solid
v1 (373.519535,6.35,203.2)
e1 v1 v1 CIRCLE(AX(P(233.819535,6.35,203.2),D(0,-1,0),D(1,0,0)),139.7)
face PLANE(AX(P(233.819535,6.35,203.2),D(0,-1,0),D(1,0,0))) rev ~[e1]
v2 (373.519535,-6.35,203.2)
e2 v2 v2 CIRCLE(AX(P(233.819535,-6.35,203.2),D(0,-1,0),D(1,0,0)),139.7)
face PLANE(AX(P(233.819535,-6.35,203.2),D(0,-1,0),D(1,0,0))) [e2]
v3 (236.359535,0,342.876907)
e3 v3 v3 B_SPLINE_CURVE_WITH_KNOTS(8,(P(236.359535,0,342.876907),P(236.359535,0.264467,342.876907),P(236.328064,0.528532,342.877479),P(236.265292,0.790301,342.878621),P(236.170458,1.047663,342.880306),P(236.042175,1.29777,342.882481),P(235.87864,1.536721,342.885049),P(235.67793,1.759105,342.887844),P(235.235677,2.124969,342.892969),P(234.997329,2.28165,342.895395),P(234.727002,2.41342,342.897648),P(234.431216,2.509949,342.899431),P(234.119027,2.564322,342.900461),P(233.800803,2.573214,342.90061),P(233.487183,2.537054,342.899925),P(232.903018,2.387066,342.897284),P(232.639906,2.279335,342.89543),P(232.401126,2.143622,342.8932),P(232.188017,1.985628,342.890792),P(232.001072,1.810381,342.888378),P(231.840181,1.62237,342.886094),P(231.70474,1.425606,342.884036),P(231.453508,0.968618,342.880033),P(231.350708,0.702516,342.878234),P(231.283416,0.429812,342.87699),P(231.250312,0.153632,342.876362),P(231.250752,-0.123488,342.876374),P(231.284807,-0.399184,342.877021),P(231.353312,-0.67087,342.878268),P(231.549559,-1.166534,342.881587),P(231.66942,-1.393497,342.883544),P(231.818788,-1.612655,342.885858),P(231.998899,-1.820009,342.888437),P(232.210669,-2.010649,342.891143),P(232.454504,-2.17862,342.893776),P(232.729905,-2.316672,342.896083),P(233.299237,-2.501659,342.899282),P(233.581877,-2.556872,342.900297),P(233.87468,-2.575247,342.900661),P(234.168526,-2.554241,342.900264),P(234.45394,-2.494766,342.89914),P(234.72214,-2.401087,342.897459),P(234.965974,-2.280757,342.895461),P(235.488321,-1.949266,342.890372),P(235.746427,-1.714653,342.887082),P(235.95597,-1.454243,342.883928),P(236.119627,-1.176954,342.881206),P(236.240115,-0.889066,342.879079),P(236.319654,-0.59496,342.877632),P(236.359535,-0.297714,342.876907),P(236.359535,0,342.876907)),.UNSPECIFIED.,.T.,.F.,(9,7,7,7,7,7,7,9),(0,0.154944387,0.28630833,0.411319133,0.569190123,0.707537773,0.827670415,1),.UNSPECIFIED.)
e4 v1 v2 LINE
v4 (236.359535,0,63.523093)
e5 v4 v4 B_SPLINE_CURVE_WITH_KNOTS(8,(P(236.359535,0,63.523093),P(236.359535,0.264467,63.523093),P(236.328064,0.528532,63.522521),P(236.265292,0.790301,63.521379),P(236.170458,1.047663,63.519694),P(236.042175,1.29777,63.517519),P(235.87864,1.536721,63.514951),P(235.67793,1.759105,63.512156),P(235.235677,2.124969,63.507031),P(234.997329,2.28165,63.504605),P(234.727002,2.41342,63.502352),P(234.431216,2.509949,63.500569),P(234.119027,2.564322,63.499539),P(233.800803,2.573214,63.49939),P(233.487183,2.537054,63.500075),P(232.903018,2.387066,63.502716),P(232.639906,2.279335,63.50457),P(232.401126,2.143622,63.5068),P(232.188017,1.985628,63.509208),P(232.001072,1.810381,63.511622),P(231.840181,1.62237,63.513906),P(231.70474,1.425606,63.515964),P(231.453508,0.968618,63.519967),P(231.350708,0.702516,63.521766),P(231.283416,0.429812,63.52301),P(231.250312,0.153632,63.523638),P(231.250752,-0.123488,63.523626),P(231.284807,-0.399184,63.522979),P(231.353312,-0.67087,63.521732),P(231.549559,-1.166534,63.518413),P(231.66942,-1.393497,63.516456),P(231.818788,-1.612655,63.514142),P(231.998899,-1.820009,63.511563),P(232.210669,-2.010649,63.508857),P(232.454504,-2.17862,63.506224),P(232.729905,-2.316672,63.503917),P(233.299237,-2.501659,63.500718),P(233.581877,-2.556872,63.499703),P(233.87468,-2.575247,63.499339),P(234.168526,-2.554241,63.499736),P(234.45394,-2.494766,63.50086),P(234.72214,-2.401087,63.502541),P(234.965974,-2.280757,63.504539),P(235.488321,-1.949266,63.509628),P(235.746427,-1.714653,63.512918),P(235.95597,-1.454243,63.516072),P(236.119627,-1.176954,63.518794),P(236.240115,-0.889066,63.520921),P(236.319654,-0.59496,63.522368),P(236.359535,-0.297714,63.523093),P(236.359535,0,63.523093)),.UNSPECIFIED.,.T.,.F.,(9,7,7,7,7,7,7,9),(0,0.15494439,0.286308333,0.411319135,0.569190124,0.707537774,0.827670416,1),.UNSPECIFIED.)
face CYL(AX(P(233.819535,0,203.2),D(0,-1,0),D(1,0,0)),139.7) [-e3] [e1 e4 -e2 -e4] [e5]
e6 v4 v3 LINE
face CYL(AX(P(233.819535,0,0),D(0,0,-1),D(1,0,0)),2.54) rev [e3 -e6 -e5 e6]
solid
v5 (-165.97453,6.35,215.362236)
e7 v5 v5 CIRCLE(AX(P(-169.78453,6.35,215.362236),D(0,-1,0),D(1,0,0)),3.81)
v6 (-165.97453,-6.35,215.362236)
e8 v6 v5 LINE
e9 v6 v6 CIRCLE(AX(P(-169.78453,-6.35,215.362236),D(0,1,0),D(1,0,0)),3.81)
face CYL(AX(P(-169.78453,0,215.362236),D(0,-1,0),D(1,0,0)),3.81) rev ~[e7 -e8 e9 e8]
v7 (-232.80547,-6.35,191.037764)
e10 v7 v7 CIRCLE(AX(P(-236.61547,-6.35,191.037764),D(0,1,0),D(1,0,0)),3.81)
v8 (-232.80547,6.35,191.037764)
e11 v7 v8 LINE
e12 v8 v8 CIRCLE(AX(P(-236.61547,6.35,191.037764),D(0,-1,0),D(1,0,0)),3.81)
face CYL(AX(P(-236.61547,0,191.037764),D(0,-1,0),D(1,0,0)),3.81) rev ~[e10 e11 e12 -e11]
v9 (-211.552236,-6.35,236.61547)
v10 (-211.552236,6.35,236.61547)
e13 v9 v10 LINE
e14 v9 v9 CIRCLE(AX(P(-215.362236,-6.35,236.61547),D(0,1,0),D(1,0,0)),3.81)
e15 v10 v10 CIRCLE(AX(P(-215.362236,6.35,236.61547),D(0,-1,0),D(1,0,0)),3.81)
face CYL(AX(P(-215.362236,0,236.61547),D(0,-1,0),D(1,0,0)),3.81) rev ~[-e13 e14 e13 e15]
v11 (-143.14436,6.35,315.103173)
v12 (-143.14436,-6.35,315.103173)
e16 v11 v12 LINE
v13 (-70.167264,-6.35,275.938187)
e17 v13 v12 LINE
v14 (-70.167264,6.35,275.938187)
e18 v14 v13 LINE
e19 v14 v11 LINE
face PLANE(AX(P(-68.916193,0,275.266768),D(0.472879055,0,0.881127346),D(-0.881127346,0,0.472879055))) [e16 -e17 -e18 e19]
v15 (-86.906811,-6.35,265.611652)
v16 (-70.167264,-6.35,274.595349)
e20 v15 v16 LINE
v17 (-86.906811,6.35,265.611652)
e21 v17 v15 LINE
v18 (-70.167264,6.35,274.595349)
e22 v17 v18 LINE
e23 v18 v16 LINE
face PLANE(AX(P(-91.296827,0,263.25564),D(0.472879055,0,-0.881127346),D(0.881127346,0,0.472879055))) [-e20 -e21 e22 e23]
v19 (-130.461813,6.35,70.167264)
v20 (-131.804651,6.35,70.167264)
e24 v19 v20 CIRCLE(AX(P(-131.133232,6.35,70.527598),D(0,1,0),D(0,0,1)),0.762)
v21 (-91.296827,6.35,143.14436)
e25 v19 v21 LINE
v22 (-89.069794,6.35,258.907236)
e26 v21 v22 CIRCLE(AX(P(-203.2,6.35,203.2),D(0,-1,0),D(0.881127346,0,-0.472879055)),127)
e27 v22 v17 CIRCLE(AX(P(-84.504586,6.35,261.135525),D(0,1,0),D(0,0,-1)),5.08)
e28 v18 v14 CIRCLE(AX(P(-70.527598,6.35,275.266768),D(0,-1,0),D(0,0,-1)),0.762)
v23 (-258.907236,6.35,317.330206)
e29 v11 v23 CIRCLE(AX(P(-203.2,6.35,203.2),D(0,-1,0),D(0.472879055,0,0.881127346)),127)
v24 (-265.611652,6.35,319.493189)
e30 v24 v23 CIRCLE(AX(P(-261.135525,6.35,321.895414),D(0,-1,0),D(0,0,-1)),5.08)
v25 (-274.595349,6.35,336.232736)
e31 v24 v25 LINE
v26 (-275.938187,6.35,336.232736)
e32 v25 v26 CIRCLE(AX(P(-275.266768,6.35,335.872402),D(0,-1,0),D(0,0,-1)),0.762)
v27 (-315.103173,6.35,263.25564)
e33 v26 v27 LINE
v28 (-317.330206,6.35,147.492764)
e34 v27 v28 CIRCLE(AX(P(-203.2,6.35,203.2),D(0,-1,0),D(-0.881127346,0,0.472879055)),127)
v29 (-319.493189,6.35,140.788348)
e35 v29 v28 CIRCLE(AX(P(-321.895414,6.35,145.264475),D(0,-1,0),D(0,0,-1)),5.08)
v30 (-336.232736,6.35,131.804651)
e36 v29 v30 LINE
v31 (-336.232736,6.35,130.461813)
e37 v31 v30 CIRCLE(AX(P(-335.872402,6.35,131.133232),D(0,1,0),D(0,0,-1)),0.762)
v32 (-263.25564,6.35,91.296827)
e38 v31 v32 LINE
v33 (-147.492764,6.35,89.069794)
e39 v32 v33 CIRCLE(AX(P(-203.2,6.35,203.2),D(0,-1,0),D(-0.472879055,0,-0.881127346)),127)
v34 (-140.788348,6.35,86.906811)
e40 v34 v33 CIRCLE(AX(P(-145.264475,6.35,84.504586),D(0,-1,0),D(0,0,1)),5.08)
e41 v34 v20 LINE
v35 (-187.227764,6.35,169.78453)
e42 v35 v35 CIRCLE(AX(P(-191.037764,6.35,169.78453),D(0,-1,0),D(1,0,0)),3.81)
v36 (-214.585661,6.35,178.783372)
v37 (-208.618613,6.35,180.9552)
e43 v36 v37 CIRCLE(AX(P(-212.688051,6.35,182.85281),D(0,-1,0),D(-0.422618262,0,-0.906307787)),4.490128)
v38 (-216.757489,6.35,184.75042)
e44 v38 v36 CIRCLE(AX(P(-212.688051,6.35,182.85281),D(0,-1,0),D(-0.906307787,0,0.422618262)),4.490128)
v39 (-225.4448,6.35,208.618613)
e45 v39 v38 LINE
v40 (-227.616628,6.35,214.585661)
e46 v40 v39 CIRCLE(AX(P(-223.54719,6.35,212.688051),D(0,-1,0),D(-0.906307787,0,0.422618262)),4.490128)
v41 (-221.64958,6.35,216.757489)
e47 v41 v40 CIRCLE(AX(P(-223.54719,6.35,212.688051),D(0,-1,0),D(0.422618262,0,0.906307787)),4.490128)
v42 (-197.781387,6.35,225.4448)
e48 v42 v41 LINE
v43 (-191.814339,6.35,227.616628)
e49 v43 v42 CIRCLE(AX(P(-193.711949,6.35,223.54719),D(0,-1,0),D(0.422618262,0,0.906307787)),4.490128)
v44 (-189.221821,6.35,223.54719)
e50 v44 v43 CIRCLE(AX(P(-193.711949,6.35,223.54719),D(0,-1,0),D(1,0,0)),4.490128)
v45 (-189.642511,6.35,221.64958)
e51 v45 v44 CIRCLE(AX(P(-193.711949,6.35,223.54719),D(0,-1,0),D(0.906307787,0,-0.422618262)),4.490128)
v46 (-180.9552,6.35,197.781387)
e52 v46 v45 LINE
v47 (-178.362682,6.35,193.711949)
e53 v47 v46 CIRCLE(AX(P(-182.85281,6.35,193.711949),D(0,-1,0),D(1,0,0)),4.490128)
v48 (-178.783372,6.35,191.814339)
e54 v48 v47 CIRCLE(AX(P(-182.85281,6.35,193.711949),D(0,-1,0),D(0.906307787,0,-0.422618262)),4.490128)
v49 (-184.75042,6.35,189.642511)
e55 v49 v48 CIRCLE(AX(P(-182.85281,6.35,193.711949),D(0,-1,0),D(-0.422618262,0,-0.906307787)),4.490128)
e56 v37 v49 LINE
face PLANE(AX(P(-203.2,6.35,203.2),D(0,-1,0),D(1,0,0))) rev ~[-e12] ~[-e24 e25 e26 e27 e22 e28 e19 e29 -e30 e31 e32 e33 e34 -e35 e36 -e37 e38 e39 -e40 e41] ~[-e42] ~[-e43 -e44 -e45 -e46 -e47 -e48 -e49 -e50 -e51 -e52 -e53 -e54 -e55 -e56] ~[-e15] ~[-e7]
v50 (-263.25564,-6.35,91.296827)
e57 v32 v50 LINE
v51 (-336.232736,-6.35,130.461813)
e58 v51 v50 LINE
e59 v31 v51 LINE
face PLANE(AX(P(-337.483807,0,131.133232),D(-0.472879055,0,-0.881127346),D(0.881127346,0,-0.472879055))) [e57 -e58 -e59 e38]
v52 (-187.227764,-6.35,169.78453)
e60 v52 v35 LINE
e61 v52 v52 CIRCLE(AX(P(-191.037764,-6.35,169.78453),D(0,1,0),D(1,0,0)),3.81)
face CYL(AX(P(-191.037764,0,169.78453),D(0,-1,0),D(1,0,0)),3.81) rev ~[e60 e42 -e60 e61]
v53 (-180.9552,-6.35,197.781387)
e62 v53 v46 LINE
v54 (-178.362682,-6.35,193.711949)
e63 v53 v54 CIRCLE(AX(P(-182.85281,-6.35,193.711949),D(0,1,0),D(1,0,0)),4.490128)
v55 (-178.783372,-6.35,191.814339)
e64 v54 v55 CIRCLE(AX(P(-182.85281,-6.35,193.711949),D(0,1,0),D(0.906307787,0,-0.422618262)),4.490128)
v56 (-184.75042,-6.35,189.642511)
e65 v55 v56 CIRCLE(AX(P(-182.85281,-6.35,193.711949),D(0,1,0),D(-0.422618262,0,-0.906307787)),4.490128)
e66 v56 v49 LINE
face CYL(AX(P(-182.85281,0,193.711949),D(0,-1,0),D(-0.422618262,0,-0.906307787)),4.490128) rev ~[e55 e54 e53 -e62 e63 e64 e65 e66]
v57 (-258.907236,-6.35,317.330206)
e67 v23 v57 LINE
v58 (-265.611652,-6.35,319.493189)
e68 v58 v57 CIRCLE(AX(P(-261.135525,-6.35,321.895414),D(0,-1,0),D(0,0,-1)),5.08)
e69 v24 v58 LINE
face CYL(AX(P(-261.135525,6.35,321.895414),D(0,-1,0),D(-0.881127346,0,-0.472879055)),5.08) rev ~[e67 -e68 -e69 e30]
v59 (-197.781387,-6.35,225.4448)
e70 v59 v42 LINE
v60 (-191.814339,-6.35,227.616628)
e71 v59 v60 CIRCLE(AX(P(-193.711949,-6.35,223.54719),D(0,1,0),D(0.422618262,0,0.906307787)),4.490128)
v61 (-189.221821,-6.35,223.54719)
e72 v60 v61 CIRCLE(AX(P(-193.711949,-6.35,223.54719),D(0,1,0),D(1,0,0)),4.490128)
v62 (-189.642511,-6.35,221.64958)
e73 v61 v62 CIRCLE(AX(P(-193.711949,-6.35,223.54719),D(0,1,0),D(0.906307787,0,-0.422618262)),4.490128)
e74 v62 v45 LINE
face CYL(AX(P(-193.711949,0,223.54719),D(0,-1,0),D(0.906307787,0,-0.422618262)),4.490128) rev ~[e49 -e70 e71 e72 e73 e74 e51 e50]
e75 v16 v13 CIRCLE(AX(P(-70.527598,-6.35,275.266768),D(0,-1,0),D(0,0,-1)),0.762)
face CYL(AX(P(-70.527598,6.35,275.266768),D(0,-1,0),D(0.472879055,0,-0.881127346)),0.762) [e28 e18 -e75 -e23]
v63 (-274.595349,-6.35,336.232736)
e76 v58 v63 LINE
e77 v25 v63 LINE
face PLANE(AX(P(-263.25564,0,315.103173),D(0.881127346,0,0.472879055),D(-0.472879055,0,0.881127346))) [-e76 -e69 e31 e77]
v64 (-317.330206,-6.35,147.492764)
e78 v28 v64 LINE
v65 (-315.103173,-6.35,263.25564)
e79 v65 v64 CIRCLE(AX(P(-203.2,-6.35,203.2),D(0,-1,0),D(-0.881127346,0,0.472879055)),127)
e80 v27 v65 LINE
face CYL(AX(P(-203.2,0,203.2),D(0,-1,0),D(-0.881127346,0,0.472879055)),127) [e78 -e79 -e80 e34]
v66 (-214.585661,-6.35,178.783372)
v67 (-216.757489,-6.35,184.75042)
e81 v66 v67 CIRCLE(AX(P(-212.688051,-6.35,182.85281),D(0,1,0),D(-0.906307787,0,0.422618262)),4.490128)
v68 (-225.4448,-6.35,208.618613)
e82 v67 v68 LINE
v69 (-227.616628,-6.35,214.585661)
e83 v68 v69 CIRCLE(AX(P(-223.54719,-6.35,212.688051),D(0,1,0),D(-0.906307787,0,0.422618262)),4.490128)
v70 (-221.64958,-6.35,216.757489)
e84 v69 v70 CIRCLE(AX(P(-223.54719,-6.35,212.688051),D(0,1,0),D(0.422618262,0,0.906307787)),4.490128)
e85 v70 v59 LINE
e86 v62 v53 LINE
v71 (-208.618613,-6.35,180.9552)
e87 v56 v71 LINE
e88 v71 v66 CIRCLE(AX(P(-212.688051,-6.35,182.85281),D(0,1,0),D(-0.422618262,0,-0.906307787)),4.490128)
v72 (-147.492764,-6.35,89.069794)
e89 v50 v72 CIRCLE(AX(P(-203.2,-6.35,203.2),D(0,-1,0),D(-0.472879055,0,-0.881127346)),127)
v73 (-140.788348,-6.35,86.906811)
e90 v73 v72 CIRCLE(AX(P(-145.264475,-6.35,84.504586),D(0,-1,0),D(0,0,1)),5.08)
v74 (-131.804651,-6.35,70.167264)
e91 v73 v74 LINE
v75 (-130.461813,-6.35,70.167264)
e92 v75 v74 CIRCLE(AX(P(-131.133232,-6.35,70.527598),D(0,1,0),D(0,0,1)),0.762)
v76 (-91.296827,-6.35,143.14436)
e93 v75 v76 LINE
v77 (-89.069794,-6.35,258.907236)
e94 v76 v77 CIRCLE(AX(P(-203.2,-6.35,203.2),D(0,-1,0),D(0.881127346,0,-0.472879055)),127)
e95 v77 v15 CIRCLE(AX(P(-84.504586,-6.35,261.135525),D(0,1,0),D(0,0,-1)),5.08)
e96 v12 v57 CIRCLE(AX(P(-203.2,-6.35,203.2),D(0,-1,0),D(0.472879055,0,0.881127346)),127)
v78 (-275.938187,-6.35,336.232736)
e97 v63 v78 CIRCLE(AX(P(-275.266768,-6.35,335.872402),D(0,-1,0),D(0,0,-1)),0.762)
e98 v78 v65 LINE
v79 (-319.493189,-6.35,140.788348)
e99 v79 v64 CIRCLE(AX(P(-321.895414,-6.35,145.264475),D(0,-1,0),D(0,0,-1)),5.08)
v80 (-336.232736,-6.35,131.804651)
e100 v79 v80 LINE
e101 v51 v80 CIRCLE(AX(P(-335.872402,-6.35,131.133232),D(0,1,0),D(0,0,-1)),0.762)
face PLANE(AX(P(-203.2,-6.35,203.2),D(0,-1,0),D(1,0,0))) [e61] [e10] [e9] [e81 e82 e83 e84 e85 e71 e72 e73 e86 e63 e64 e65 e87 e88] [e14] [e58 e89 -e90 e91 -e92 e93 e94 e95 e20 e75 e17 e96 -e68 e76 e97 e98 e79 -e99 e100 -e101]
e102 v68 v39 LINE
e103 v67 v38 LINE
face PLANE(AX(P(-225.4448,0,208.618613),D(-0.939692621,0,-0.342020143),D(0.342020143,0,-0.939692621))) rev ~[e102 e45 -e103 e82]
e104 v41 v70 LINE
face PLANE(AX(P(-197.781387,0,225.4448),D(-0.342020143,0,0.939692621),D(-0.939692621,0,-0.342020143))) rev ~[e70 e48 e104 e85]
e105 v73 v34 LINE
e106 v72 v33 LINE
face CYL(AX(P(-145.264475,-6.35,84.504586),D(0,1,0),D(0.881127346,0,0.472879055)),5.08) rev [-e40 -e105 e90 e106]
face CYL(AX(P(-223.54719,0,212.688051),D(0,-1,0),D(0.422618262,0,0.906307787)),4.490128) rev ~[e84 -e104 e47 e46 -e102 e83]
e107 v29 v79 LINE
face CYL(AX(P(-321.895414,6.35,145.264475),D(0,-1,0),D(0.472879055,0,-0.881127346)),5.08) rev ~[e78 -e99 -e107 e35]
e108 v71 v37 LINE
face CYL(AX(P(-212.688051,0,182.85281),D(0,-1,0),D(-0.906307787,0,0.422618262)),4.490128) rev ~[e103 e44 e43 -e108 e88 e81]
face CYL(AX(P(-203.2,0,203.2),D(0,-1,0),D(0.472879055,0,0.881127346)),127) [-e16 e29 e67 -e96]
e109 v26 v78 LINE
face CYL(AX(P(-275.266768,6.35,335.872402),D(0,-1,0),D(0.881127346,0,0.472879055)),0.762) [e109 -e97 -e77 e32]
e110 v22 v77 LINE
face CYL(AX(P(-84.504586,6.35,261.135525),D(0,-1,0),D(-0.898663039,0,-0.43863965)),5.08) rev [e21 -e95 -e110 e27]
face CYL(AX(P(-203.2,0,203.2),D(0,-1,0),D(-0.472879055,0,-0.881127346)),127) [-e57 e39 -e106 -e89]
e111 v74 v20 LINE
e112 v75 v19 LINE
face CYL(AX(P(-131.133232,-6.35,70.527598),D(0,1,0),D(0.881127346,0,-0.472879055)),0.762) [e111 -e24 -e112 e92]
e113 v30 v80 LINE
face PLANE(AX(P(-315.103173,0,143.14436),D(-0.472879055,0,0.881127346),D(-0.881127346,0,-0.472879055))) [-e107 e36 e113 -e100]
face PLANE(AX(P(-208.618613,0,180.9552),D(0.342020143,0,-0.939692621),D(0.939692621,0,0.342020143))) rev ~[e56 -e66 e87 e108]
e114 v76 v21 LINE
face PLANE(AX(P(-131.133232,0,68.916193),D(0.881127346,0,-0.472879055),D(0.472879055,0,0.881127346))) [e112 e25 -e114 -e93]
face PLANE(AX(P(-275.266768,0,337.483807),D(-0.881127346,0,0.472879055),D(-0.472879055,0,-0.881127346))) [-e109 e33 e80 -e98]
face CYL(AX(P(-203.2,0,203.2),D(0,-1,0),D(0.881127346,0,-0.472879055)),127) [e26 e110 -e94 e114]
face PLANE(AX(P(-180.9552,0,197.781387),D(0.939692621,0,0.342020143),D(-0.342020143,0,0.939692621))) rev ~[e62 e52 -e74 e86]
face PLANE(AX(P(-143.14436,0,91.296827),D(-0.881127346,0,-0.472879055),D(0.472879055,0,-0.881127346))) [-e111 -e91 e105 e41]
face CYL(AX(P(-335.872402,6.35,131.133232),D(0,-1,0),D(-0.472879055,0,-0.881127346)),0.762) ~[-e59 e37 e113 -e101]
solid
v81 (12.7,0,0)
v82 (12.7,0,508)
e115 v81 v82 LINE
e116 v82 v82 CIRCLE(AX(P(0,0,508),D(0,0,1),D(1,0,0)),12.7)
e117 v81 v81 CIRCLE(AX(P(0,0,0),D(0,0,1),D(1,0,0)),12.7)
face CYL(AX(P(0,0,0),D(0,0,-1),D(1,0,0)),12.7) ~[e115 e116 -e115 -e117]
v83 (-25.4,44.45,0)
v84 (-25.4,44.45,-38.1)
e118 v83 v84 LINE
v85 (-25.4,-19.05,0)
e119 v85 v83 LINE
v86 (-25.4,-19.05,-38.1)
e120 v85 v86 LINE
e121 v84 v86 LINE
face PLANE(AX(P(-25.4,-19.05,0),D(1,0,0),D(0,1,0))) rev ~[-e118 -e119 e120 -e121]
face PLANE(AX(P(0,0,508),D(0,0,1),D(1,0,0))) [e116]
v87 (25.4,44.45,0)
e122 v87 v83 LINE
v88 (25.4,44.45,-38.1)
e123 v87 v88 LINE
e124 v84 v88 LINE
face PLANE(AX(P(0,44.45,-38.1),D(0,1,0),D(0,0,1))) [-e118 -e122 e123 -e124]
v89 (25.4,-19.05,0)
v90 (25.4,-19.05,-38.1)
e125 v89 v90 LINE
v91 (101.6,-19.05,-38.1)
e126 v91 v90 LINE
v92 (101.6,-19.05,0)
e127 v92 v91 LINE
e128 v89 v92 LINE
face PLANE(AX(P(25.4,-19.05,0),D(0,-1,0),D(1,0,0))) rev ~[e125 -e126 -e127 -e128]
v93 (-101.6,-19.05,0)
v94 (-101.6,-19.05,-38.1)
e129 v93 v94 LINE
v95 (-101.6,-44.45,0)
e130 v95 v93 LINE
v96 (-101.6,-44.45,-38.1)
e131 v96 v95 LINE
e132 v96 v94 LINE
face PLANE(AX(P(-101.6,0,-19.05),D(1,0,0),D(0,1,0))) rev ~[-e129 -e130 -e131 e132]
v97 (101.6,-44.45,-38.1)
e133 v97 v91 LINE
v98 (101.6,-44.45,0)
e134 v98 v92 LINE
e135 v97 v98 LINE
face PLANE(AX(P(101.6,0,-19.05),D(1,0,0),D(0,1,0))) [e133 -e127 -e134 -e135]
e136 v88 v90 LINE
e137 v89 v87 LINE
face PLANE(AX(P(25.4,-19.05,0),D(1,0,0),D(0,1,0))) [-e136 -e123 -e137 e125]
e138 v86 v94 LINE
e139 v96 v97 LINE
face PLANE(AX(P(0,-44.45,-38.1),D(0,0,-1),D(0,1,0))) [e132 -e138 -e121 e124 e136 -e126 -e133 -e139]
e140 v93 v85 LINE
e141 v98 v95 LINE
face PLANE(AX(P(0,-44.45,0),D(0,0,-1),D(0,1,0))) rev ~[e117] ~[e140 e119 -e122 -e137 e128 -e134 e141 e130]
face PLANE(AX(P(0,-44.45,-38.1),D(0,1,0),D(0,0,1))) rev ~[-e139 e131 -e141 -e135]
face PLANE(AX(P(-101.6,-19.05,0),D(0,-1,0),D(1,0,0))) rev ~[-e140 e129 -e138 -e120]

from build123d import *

# Parameters (mm, degrees)
F1_DEPTH      = 6.35
F2_R          = 3.81
F3_DEPTH      = 6.351
F3_DEPTH_BACK = 6.351
F4_R          = 5.08
F5_R          = 0.762
F6_R          = 139.7
F7_DEPTH      = 6.35
F8_R          = 12.7
F9_DEPTH      = 508
F10_W         = 88.9
F10_H         = 38.1
F11_DEPTH     = 101.6
F12_R         = 2.54
F13_DEPTH     = 508.001
F14_W         = 76.2
F14_H         = 63.5
F15_DEPTH     = 38.101


with BuildPart() as f1:
    # F0 (on Front) → F1 (new body, symmetric)
    with BuildSketch(Plane.XZ):
        with BuildLine():
            ThreePointArc((-91.2968271065, 143.1443599954), (-76.2, 203.2), (-91.2968271065, 263.2556400046))
            Line((-91.2968271065, 263.2556400046), (-68.9161925278, 275.2667680055))
            Line((-68.9161925278, 275.2667680055), (-143.1443599954, 315.1031728935))
            ThreePointArc((-143.1443599954, 315.1031728935), (-203.2, 330.2), (-263.2556400046, 315.1031728935))
            Line((-263.2556400046, 315.1031728935), (-275.2667680055, 337.4838074722))
            Line((-275.2667680055, 337.4838074722), (-315.1031728935, 263.2556400046))
            ThreePointArc((-315.1031728935, 263.2556400046), (-330.2, 203.2), (-315.1031728935, 143.1443599954))
            Line((-315.1031728935, 143.1443599954), (-337.4838074722, 131.1332319945))
            Line((-337.4838074722, 131.1332319945), (-263.2556400046, 91.2968271065))
            ThreePointArc((-263.2556400046, 91.2968271065), (-203.2, 76.2), (-143.1443599954, 91.2968271065))
            Line((-143.1443599954, 91.2968271065), (-131.1332319945, 68.9161925278))
            Line((-131.1332319945, 68.9161925278), (-91.2968271065, 143.1443599954))
        make_face()
    extrude(amount=F1_DEPTH, both=True)

    # F2 (on Front) → F3 (cut, two sides)
    with BuildSketch(Plane.XZ) as f3_sk:
        with BuildLine():
            ThreePointArc((-221.6495800143, 216.7574886057), (-225.0829043731, 216.9073907845), (-227.6166281563, 214.5856606956))
            Line((-227.6166281563, 214.5856606956), (-221.6495800143, 216.7574886057))
        make_face()
        with BuildLine():
            Line((-221.6495800143, 216.7574886057), (-227.6166281563, 214.5856606956))
            Line((-227.6166281563, 214.5856606956), (-225.4448002462, 208.6186125536))
            ThreePointArc((-225.4448002462, 208.6186125536), (-221.1346460819, 208.9011149828), (-219.0570620697, 212.6880505797))
            ThreePointArc((-219.0570620697, 212.6880505797), (-219.7602545334, 215.100594628), (-221.6495800143, 216.7574886057))
        make_face()
        with BuildLine():
            Line((-225.4448002462, 208.6186125536), (-227.6166281563, 214.5856606956))
            ThreePointArc((-227.6166281563, 214.5856606956), (-227.7665303351, 211.1523363369), (-225.4448002462, 208.6186125536))
        make_face()
        with BuildLine():
            Line((-197.7813874464, 225.4448002462), (-221.6495800143, 216.7574886057))
            ThreePointArc((-221.6495800143, 216.7574886057), (-219.7602545334, 215.100594628), (-219.0570620697, 212.6880505797))
            ThreePointArc((-219.0570620697, 212.6880505797), (-221.1346460819, 208.9011149828), (-225.4448002462, 208.6186125536))
            Line((-225.4448002462, 208.6186125536), (-216.7574886057, 184.7504199857))
            ThreePointArc((-216.7574886057, 184.7504199857), (-211.7162089957, 187.2365039667), (-208.1979225191, 182.8528098697))
            ThreePointArc((-208.1979225191, 182.8528098697), (-208.3043564827, 181.8809682858), (-208.6186125536, 180.9551997538))
            Line((-208.6186125536, 180.9551997538), (-184.7504199857, 189.6425113943))
            ThreePointArc((-184.7504199857, 189.6425113943), (-186.9222478958, 195.6095595363), (-180.9551997538, 197.7813874464))
            Line((-180.9551997538, 197.7813874464), (-189.6425113943, 221.6495800143))
            ThreePointArc((-189.6425113943, 221.6495800143), (-195.6095595363, 219.4777521042), (-197.7813874464, 225.4448002462))
        make_face()
        with BuildLine():
            ThreePointArc((-191.8143393044, 227.6166281563), (-195.2476636631, 227.7665303351), (-197.7813874464, 225.4448002462))
            Line((-197.7813874464, 225.4448002462), (-191.8143393044, 227.6166281563))
        make_face()
        with BuildLine():
            Line((-191.8143393044, 227.6166281563), (-197.7813874464, 225.4448002462))
            ThreePointArc((-197.7813874464, 225.4448002462), (-195.6095595363, 219.4777521042), (-189.6425113943, 221.6495800143))
            Line((-189.6425113943, 221.6495800143), (-191.8143393044, 227.6166281563))
        make_face()
        with BuildLine():
            ThreePointArc((-208.1979225191, 182.8528098697), (-211.7162089957, 187.2365039667), (-216.7574886057, 184.7504199857))
            Line((-216.7574886057, 184.7504199857), (-214.5856606956, 178.7833718437))
            Line((-214.5856606956, 178.7833718437), (-208.6186125536, 180.9551997538))
            ThreePointArc((-208.6186125536, 180.9551997538), (-208.3043564827, 181.8809682858), (-208.1979225191, 182.8528098697))
        make_face()
        with BuildLine():
            Line((-214.5856606956, 178.7833718437), (-216.7574886057, 184.7504199857))
            ThreePointArc((-216.7574886057, 184.7504199857), (-216.9073907845, 181.3170956269), (-214.5856606956, 178.7833718437))
        make_face()
        with BuildLine():
            ThreePointArc((-189.2218213598, 223.5471901303), (-189.9250138235, 225.9597341786), (-191.8143393044, 227.6166281563))
            Line((-191.8143393044, 227.6166281563), (-189.6425113943, 221.6495800143))
            ThreePointArc((-189.6425113943, 221.6495800143), (-189.3282553234, 222.5753485463), (-189.2218213598, 223.5471901303))
        make_face()
        with BuildLine():
            Line((-208.6186125536, 180.9551997538), (-214.5856606956, 178.7833718437))
            ThreePointArc((-214.5856606956, 178.7833718437), (-211.1523363369, 178.6334696649), (-208.6186125536, 180.9551997538))
        make_face()
        with BuildLine():
            ThreePointArc((-178.3626818092, 193.7119494203), (-179.0658742729, 196.1244934687), (-180.9551997538, 197.7813874464))
            Line((-180.9551997538, 197.7813874464), (-178.7833718437, 191.8143393044))
            ThreePointArc((-178.7833718437, 191.8143393044), (-178.4691157728, 192.7401078364), (-178.3626818092, 193.7119494203))
        make_face()
        with BuildLine():
            Line((-178.7833718437, 191.8143393044), (-180.9551997538, 197.7813874464))
            ThreePointArc((-180.9551997538, 197.7813874464), (-186.9222478958, 195.6095595363), (-184.7504199857, 189.6425113943))
            Line((-184.7504199857, 189.6425113943), (-178.7833718437, 191.8143393044))
        make_face()
        with BuildLine():
            ThreePointArc((-184.7504199857, 189.6425113943), (-181.3170956269, 189.4926092155), (-178.7833718437, 191.8143393044))
            Line((-178.7833718437, 191.8143393044), (-184.7504199857, 189.6425113943))
        make_face()
        with Locations((-169.7845304049, 215.3622362967)):
            Circle(F2_R)
        with Locations((-215.3622362967, 236.6154695951)):
            Circle(F2_R)
        with Locations((-236.6154695951, 191.0377637033)):
            Circle(F2_R)
        with Locations((-191.0377637033, 169.7845304049)):
            Circle(F2_R)
    extrude(amount=-F3_DEPTH, mode=Mode.SUBTRACT)
    extrude(f3_sk.sketch, amount=F3_DEPTH_BACK, mode=Mode.SUBTRACT)

    # F4
    f4_edges = [f1.edges().sort_by_distance(p)[0] for p in [
        (-263.25564, 0, 315.103173),
        (-91.296827, 0, 263.25564),
        (-143.14436, 0, 91.296827),
        (-315.103173, 0, 143.14436),
    ]]
    fillet(f4_edges, radius=F4_R)

    # F5
    f5_edges = [f1.edges().sort_by_distance(p)[0] for p in [
        (-337.483807, 0, 131.133232),
        (-131.133232, 0, 68.916193),
        (-68.916193, 0, 275.266768),
        (-275.266768, 0, 337.483807),
    ]]
    fillet(f5_edges, radius=F5_R)


with BuildPart() as f7:
    # F6 (on Front) → F7 (new body, symmetric)
    with BuildSketch(Plane.XZ):
        with Locations((233.8195346139, 203.2)):
            Circle(F6_R)
    extrude(amount=F7_DEPTH, both=True)

    # F12 (on Top) → F13 (cut, through all)
    with BuildSketch(Plane.XY):
        with Locations((233.8195346139, 0)):
            Circle(F12_R)
    extrude(amount=F13_DEPTH, mode=Mode.SUBTRACT)


with BuildPart() as f9:
    # F8 (on Top) → F9 (new body)
    with BuildSketch(Plane.XY):
        Circle(F8_R)
    extrude(amount=F9_DEPTH)

    # F10 (on Right) → F11 (join, symmetric)
    with BuildSketch(Plane.YZ):
        with Locations((0, -19.05)):
            Rectangle(F10_W, F10_H)
    extrude(amount=F11_DEPTH, both=True)

    # F14 (on face) → F15 (cut, through all)
    with BuildSketch(Plane.XY):
        with Locations((-63.5, 12.7)):
            Rectangle(F14_W, F14_H)
        with Locations((63.5, 12.7)):
            Rectangle(F14_W, F14_H)
    extrude(amount=-F15_DEPTH, mode=Mode.SUBTRACT)


solid = Compound([f1.part, f7.part, f9.part])
